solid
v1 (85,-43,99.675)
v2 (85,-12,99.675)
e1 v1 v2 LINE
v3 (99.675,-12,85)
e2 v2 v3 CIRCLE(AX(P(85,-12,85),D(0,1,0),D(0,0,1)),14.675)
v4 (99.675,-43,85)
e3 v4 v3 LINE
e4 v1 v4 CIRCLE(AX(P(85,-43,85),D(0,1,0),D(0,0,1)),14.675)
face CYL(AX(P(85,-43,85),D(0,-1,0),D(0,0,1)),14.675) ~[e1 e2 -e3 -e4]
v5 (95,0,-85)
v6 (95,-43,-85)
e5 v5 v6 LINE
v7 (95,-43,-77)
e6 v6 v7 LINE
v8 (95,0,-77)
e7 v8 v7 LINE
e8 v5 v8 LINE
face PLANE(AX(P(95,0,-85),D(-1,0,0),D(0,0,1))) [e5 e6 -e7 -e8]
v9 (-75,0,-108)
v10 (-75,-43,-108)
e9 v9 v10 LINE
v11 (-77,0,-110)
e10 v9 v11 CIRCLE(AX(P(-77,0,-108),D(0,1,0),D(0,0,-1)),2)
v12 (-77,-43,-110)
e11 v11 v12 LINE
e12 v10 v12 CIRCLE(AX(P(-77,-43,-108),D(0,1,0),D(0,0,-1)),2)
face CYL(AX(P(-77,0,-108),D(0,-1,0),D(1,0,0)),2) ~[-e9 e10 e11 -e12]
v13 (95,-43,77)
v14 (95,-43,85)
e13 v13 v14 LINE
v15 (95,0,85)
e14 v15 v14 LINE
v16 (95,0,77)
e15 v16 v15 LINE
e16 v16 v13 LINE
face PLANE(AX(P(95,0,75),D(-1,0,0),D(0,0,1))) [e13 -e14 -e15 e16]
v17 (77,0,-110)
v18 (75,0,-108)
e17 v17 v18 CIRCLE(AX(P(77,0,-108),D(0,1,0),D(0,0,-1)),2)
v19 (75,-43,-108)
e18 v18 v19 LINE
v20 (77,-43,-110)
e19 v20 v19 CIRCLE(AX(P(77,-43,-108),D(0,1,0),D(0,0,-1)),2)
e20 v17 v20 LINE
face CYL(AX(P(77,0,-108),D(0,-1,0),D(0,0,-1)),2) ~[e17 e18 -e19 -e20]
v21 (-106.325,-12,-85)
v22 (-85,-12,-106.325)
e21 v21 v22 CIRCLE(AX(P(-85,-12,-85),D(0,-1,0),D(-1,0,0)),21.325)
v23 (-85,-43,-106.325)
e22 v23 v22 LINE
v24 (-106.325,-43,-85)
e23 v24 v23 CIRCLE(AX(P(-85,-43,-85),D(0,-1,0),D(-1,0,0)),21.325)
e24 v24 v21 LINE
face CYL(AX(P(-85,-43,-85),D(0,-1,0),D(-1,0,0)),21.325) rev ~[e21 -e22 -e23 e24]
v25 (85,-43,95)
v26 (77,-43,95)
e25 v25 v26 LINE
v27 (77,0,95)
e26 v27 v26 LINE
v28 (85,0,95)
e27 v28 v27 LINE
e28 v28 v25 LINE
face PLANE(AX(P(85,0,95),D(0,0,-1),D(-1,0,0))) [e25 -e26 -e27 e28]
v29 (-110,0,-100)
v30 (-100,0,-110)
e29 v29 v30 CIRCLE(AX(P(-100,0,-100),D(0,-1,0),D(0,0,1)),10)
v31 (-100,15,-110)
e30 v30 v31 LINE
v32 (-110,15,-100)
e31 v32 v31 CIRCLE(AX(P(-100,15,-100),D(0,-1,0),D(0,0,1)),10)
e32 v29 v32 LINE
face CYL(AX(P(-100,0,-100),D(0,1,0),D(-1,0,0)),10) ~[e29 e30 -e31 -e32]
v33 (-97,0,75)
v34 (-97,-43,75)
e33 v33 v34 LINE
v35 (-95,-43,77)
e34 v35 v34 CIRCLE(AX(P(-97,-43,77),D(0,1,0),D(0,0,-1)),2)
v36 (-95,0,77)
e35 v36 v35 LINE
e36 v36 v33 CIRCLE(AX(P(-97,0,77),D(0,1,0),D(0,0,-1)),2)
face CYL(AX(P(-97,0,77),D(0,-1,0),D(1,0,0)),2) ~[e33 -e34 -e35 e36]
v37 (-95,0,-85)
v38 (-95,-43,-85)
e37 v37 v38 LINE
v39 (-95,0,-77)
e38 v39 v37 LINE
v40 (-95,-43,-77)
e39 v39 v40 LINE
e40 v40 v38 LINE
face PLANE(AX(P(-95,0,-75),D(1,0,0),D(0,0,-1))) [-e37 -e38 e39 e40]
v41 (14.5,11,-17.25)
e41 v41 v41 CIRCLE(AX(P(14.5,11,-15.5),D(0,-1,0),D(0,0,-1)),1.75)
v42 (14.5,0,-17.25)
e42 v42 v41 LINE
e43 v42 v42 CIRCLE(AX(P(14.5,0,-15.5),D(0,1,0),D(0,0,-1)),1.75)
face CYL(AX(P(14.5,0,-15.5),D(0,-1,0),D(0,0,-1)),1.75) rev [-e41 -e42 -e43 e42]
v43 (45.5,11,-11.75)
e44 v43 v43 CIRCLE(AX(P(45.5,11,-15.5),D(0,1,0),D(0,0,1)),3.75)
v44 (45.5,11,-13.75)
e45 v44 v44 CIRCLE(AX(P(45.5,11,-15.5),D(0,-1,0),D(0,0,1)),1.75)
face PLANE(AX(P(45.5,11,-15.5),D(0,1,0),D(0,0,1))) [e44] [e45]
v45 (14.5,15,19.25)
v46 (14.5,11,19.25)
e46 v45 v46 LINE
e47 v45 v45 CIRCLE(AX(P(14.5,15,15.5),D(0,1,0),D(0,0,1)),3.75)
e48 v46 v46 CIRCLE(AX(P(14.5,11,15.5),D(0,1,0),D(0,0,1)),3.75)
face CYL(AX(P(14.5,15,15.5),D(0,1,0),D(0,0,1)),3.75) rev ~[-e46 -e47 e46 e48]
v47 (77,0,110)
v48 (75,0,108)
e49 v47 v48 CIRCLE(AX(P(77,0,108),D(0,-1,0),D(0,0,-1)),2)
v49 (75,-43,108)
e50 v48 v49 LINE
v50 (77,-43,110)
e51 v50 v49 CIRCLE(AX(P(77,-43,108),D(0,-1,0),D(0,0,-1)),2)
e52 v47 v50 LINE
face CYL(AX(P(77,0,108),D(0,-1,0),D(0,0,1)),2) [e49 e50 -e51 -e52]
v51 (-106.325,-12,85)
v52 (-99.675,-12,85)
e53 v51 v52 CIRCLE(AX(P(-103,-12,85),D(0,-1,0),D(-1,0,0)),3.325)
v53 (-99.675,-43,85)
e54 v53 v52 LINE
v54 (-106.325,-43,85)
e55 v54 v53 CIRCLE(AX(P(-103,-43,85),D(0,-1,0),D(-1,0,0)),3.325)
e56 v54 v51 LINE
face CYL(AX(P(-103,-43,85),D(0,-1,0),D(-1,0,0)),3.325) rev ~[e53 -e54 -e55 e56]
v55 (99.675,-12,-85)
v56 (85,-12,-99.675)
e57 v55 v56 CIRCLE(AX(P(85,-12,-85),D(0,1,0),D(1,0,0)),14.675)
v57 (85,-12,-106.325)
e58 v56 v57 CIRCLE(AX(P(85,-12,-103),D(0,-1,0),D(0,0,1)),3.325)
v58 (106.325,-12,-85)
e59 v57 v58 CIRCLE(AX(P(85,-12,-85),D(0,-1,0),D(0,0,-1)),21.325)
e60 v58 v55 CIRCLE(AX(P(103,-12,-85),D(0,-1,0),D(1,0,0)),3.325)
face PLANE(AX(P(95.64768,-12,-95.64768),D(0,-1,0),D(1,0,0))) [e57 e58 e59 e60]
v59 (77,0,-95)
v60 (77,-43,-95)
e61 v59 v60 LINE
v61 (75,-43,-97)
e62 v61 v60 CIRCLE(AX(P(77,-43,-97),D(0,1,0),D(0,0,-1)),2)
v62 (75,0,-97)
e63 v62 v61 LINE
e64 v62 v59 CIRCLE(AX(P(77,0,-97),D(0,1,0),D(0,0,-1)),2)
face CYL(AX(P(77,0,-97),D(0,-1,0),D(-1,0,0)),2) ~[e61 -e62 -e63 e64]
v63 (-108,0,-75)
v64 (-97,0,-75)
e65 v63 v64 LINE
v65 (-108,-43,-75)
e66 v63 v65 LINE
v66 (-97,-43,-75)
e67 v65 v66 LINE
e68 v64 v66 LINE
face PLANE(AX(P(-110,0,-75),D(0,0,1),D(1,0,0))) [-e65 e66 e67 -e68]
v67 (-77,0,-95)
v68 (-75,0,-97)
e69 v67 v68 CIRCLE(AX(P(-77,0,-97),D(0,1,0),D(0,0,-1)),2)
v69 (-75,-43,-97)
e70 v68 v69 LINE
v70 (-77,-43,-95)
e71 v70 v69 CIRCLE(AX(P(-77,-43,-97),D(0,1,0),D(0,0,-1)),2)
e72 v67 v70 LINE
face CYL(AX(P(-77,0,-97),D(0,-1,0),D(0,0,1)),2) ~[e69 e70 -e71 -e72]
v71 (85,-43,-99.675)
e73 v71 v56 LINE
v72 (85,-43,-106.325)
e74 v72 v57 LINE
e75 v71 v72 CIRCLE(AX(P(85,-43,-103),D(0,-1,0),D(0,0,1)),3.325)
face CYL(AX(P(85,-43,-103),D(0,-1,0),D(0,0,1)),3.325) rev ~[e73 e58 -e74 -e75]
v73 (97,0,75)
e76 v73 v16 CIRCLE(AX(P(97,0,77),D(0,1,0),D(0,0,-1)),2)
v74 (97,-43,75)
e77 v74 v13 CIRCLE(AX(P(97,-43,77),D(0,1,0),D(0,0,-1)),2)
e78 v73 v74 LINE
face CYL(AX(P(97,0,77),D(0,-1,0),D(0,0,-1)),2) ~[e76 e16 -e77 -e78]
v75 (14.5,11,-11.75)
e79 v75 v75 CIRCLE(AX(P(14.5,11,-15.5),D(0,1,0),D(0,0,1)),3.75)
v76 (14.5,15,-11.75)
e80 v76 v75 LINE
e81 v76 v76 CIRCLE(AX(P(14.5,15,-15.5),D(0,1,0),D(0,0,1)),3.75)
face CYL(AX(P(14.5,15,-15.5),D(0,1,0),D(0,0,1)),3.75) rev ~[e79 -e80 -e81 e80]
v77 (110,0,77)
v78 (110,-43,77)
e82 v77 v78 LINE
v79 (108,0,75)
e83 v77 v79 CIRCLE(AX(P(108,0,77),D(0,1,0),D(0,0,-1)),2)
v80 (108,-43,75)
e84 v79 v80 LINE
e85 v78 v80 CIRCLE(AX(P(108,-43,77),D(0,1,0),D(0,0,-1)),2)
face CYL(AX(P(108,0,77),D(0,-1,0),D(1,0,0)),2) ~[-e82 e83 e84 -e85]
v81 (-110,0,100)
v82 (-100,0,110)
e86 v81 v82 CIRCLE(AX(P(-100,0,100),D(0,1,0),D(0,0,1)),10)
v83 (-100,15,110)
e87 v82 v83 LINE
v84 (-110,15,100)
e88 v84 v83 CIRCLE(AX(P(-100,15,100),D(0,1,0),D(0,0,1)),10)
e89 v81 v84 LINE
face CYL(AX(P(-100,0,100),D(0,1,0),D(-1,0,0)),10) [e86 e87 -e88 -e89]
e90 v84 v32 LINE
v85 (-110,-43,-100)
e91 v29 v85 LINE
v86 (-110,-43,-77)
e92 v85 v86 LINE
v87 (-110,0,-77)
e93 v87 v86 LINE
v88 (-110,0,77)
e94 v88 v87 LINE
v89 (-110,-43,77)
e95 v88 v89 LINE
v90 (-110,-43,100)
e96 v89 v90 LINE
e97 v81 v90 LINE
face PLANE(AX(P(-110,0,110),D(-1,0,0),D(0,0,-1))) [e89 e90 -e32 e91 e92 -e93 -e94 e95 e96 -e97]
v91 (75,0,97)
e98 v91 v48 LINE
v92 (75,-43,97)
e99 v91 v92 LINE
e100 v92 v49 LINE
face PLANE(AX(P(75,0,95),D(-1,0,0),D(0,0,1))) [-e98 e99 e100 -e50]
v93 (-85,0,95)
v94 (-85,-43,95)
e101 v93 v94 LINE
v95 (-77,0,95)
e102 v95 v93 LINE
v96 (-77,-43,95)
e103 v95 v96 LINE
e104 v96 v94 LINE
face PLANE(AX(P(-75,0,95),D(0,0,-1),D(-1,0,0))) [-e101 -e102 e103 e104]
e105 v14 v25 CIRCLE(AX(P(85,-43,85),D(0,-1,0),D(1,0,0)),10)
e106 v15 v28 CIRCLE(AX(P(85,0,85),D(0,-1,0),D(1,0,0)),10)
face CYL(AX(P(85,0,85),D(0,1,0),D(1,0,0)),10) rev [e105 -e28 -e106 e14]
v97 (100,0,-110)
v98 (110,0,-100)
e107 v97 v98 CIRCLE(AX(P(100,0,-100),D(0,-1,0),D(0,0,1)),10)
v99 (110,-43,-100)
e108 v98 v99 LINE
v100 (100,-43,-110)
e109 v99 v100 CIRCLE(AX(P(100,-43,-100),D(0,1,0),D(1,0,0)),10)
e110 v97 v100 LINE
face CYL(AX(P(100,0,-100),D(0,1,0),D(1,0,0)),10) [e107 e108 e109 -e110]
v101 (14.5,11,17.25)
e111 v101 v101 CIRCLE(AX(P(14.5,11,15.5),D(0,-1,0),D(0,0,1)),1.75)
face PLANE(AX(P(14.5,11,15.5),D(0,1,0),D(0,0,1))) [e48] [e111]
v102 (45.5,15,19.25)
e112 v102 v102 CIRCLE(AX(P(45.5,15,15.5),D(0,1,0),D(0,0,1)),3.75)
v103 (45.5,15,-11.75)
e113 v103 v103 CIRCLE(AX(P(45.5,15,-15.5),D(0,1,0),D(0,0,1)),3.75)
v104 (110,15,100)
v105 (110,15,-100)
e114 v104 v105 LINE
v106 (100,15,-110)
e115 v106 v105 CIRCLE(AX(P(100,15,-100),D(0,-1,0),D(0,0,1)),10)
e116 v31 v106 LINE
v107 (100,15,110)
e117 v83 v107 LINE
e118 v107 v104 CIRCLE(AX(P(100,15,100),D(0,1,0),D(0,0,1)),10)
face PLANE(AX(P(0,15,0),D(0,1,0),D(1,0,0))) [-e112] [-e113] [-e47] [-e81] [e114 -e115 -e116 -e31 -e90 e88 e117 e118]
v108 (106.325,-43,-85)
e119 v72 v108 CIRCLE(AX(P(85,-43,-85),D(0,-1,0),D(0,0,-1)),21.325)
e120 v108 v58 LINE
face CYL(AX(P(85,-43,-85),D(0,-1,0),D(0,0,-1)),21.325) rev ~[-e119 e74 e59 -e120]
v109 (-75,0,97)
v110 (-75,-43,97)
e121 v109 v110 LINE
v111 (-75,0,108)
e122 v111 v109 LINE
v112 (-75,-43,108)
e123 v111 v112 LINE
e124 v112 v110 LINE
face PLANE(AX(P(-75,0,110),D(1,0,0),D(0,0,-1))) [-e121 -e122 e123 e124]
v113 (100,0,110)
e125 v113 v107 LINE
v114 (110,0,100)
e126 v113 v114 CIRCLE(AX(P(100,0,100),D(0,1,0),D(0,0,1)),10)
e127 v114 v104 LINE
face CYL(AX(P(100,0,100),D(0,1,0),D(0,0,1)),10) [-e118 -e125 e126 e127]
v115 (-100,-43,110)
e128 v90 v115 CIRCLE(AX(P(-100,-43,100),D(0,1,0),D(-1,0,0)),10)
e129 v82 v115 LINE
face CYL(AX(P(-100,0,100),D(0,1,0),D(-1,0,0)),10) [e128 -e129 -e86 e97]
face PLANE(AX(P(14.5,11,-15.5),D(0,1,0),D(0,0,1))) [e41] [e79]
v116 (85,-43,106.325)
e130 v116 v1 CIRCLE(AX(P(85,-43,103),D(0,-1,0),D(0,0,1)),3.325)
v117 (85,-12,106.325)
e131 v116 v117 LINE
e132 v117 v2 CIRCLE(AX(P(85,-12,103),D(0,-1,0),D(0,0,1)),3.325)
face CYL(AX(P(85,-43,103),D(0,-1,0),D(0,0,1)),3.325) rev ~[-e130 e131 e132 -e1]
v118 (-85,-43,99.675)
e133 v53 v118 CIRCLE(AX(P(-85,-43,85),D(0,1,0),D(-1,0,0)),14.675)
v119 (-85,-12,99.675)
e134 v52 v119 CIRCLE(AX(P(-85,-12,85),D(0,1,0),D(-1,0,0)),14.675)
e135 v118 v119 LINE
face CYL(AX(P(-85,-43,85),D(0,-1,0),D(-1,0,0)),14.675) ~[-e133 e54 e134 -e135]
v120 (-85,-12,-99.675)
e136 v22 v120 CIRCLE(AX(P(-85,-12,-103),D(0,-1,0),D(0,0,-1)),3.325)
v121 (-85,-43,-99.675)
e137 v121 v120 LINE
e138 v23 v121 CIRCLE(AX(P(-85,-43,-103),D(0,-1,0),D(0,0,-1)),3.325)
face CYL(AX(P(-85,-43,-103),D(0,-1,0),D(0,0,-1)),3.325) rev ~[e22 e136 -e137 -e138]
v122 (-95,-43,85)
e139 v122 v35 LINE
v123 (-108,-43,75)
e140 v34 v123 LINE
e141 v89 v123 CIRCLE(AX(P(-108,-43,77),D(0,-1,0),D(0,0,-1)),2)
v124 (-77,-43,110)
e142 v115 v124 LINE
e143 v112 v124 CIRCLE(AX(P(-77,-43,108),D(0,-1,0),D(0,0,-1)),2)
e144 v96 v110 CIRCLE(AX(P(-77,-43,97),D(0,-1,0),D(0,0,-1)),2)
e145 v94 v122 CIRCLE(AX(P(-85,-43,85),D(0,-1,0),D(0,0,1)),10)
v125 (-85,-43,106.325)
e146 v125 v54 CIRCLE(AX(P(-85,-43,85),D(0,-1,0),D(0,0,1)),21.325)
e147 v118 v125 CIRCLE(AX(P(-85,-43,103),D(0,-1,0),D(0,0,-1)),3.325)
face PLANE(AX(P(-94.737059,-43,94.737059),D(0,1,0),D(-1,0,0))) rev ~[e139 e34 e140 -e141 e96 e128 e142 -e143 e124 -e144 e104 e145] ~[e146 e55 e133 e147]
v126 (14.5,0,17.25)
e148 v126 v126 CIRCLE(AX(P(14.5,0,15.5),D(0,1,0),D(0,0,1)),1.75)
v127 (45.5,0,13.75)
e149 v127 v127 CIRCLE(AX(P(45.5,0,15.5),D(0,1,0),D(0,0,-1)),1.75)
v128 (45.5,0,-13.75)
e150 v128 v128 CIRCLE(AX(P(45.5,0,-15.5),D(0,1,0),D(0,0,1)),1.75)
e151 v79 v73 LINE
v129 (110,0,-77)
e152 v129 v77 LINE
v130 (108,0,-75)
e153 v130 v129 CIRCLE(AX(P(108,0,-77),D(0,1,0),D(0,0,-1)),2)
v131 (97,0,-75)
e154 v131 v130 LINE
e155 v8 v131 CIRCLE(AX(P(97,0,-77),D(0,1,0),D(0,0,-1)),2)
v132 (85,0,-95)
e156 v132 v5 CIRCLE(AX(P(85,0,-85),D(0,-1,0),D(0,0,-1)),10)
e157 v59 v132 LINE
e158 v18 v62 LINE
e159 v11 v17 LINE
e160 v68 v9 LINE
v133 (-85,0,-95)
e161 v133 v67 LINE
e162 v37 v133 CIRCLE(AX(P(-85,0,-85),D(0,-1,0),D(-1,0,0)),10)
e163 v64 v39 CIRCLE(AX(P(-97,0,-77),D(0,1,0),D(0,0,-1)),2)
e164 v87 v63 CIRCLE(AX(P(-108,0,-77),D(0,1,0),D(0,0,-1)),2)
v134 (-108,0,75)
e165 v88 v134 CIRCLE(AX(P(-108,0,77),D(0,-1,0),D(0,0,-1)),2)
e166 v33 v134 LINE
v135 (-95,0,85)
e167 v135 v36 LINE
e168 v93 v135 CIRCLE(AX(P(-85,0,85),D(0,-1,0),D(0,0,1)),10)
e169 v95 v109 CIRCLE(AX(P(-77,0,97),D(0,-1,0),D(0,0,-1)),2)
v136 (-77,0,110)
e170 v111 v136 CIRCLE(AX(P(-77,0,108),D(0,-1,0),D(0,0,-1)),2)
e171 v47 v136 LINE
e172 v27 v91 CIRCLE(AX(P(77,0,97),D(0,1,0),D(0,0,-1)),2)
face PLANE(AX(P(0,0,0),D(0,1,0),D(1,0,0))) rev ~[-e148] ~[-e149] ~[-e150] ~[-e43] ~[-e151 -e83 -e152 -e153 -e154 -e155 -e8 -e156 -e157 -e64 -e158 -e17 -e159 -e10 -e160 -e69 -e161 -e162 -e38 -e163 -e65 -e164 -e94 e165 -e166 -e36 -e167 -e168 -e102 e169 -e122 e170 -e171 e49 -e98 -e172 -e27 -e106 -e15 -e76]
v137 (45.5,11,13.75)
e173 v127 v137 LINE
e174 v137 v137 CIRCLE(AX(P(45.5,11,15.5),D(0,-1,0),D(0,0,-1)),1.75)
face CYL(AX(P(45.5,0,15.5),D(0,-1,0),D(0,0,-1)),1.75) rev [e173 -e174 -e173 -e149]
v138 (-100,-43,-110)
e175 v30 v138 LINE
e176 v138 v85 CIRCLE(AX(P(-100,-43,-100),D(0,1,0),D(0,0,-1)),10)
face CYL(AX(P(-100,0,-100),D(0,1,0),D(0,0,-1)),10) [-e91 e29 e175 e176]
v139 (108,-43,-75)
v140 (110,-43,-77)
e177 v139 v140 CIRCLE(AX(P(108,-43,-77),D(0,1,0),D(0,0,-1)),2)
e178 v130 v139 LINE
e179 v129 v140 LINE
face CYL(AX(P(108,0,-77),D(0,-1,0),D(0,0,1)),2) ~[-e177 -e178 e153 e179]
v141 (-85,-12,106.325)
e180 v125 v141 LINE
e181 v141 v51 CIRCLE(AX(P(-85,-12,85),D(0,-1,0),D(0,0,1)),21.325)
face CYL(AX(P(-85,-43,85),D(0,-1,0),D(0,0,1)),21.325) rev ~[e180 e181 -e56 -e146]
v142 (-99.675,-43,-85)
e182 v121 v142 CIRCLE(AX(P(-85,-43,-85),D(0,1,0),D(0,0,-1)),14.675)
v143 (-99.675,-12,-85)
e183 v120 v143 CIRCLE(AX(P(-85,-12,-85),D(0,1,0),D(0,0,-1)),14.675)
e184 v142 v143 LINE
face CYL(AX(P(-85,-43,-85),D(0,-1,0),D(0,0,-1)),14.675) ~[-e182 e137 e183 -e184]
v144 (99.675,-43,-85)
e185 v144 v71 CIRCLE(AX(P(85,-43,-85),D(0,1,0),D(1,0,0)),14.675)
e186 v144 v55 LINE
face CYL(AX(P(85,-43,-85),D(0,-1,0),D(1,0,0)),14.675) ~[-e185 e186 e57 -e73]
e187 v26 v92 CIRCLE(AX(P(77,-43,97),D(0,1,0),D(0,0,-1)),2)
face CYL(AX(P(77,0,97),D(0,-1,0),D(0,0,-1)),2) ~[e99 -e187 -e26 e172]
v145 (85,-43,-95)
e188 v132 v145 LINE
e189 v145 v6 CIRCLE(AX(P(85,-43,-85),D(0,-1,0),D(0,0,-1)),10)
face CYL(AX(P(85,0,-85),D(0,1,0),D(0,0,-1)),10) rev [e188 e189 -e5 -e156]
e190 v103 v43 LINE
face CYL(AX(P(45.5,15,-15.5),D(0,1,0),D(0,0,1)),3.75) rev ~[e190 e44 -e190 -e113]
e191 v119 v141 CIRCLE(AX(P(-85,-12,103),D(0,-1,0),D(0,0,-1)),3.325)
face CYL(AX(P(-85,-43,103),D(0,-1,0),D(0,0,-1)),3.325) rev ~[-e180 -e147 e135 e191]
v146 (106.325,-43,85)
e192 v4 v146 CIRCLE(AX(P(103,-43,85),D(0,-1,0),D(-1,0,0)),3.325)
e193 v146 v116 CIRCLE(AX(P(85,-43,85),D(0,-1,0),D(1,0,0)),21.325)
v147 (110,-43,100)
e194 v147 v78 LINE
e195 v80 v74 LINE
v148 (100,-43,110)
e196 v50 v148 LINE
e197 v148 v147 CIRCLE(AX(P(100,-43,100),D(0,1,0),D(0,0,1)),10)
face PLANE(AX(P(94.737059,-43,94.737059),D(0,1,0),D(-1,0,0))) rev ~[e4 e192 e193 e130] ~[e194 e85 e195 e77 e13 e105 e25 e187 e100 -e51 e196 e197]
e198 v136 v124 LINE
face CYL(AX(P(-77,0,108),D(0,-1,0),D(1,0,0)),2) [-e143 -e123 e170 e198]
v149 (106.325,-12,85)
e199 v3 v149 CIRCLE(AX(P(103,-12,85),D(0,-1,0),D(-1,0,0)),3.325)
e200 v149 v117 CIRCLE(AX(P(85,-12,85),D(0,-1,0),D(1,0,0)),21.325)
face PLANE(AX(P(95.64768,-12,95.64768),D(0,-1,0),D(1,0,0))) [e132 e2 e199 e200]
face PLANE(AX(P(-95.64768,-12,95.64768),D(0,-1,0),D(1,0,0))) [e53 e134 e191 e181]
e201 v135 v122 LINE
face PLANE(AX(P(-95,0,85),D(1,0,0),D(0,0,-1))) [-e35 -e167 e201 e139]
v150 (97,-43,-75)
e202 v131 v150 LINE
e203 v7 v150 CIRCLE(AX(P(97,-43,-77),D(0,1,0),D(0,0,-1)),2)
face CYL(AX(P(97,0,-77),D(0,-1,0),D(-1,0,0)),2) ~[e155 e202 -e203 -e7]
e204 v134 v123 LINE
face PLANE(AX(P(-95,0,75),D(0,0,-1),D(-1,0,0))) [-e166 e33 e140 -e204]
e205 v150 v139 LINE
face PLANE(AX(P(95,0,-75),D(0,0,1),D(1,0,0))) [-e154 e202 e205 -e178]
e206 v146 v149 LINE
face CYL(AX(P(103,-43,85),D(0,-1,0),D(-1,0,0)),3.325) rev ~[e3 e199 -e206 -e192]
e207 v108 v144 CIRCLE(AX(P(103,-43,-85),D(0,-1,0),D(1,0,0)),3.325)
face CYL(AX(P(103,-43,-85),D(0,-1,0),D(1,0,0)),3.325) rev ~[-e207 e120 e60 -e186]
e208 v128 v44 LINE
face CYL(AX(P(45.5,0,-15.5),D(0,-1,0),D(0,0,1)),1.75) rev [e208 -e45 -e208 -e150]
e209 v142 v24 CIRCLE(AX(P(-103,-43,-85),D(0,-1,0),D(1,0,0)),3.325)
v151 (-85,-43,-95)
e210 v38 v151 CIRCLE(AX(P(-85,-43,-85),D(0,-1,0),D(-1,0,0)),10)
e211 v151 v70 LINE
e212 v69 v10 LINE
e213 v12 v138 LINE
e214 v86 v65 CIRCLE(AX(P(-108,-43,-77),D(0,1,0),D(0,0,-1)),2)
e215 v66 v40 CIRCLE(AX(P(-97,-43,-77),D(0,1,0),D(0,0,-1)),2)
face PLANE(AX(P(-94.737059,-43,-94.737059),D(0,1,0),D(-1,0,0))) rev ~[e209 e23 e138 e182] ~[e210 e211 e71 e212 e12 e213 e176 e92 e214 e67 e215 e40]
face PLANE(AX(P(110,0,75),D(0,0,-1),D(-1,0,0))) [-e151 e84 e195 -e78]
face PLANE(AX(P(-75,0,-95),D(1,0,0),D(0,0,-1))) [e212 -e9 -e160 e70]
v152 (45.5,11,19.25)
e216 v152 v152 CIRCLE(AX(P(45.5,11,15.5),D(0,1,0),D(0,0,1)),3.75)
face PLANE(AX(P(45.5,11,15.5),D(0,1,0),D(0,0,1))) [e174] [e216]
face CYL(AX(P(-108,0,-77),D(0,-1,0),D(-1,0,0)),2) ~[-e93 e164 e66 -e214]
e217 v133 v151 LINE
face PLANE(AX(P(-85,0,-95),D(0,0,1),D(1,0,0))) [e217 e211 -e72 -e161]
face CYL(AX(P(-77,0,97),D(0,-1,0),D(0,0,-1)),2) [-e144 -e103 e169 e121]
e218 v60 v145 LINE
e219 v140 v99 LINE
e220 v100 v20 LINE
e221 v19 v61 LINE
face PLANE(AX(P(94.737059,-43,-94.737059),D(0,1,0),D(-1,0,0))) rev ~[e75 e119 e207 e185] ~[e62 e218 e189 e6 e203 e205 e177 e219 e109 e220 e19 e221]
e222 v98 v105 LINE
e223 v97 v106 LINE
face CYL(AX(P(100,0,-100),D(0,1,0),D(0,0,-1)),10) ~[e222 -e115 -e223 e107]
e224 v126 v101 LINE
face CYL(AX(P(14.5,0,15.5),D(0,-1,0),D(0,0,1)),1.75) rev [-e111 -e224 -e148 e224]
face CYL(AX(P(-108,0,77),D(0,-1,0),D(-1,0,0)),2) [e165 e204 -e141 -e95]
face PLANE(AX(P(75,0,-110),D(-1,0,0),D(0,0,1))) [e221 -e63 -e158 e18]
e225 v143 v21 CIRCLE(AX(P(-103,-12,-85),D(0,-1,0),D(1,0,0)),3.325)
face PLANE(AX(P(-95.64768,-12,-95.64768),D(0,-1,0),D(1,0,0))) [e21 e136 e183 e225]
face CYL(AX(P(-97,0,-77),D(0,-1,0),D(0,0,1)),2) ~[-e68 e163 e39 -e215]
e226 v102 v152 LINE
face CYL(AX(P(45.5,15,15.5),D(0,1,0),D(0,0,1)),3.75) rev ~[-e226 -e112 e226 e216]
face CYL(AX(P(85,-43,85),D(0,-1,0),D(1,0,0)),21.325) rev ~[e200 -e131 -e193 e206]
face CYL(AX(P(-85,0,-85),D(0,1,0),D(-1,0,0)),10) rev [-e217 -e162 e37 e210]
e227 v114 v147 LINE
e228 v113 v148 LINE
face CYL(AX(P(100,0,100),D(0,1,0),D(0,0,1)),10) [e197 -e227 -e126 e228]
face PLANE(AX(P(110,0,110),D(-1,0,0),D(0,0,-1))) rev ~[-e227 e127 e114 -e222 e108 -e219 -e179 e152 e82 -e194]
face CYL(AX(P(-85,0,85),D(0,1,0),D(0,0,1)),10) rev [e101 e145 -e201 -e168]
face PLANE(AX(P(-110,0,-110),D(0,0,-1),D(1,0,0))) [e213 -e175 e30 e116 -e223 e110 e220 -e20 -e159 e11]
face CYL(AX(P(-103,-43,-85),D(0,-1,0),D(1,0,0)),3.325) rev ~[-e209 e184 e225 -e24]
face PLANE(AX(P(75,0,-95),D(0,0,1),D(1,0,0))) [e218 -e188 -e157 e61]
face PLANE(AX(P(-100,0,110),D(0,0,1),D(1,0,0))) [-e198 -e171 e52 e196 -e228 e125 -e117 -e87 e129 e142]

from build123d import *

# Parameters (mm, degrees)
SKETCH1_W           = 220
SKETCH1_H           = 220
SKETCH1_R           = 1.75
BOSS_EXTRUDE1_DEPTH = 15
FILLET1_R           = 10
BOSS_EXTRUDE2_DEPTH = 43
CUT_EXTRUDE1_DEPTH  = 31
FILLET2_R           = 2
SKETCH5_R           = 3.75
CUT_EXTRUDE2_DEPTH  = 4


with BuildPart() as part:
    # Sketch1 → Boss-Extrude1 (new body)
    with BuildSketch(Plane(origin=(0, 0, 0), x_dir=(1, 0, 0), z_dir=(0, 1, 0))):
        Rectangle(SKETCH1_W, SKETCH1_H)
        with Locations(Location((45.5, 15.5, 0), (0, 0, 270))):
            Circle(SKETCH1_R, mode=Mode.SUBTRACT)
        with Locations(Location((45.5, -15.5, 0), (0, 0, 90))):
            Circle(SKETCH1_R, mode=Mode.SUBTRACT)
        with Locations(Location((14.5, -15.5, 0), (0, 0, 270))):
            Circle(SKETCH1_R, mode=Mode.SUBTRACT)
        with Locations(Location((14.5, 15.5, 0), (0, 0, 90))):
            Circle(SKETCH1_R, mode=Mode.SUBTRACT)
    extrude(amount=BOSS_EXTRUDE1_DEPTH)

    # Fillet1
    fillet1_edges = [part.edges().sort_by_distance(p)[0] for p in [
        (110, 7.5, 110),
        (-110, 7.5, 110),
        (-110, 7.5, -110),
        (110, 7.5, -110),
    ]]
    fillet(fillet1_edges, radius=FILLET1_R)

    # Sketch2 → Boss-Extrude2 (add)
    with BuildSketch(Plane.XZ):
        with BuildLine():
            Line((-75, 95), (-85, 95))
            ThreePointArc((-85, 95), (-92.071067812, 92.071067812), (-95, 85))
            Line((-95, 85), (-95, 75))
            Line((-95, 75), (-110, 75))
            Line((-110, 75), (-110, 100))
            ThreePointArc((-110, 100), (-107.071067812, 107.071067812), (-100, 110))
            Line((-100, 110), (-75, 110))
            Line((-75, 110), (-75, 95))
        make_face()
        with BuildLine():
            Line((-75, -95), (-75, -110))
            Line((-75, -110), (-100, -110))
            ThreePointArc((-100, -110), (-107.071067812, -107.071067812), (-110, -100))
            Line((-110, -100), (-110, -75))
            Line((-110, -75), (-95, -75))
            Line((-95, -75), (-95, -85))
            ThreePointArc((-95, -85), (-92.071067812, -92.071067812), (-85, -95))
            Line((-85, -95), (-75, -95))
        make_face()
        with BuildLine():
            Line((75, -95), (85, -95))
            ThreePointArc((85, -95), (92.071067812, -92.071067812), (95, -85))
            Line((95, -85), (95, -75))
            Line((95, -75), (110, -75))
            Line((110, -75), (110, -100))
            ThreePointArc((110, -100), (107.071067812, -107.071067812), (100, -110))
            Line((100, -110), (75, -110))
            Line((75, -110), (75, -95))
        make_face()
        with BuildLine():
            Line((75, 95), (75, 110))
            Line((75, 110), (100, 110))
            ThreePointArc((100, 110), (107.071067812, 107.071067812), (110, 100))
            Line((110, 100), (110, 75))
            Line((110, 75), (95, 75))
            Line((95, 75), (95, 85))
            ThreePointArc((95, 85), (92.071067812, 92.071067812), (85, 95))
            Line((85, 95), (75, 95))
        make_face()
    extrude(amount=BOSS_EXTRUDE2_DEPTH)

    # Sketch3 → Cut-Extrude1 (cut)
    with BuildSketch(Plane.XZ.offset(43)):
        with BuildLine():
            ThreePointArc((-106.325, -85), (-100.079052109, -100.079052109), (-85, -106.325))
            ThreePointArc((-85, -106.325), (-81.675, -103), (-85, -99.675))
            ThreePointArc((-85, -99.675), (-95.376792014, -95.376792014), (-99.675, -85))
            ThreePointArc((-99.675, -85), (-103, -81.675), (-106.325, -85))
        make_face()
        with BuildLine():
            ThreePointArc((-85, 106.325), (-100.079052109, 100.079052109), (-106.325, 85))
            ThreePointArc((-106.325, 85), (-103, 81.675), (-99.675, 85))
            ThreePointArc((-99.675, 85), (-95.376792014, 95.376792014), (-85, 99.675))
            ThreePointArc((-85, 99.675), (-81.675, 103), (-85, 106.325))
        make_face()
        with BuildLine():
            ThreePointArc((106.325, 85), (100.079052109, 100.079052109), (85, 106.325))
            ThreePointArc((85, 106.325), (81.675, 103), (85, 99.675))
            ThreePointArc((85, 99.675), (95.376792014, 95.376792014), (99.675, 85))
            ThreePointArc((99.675, 85), (103, 81.675), (106.325, 85))
        make_face()
        with BuildLine():
            ThreePointArc((85, -106.325), (100.079052109, -100.079052109), (106.325, -85))
            ThreePointArc((106.325, -85), (103, -81.675), (99.675, -85))
            ThreePointArc((99.675, -85), (95.376792014, -95.376792014), (85, -99.675))
            ThreePointArc((85, -99.675), (81.675, -103), (85, -106.325))
        make_face()
    extrude(amount=-CUT_EXTRUDE1_DEPTH, mode=Mode.SUBTRACT)

    # Fillet2
    fillet2_edges = [part.edges().sort_by_distance(p)[0] for p in [
        (-75, -21.5, -95),
        (-95, -21.5, -75),
        (-110, -21.5, -75),
        (-75, -21.5, -110),
        (75, -21.5, 95),
        (95, -21.5, 75),
        (110, -21.5, 75),
        (75, -21.5, 110),
        (-110, -21.5, 75),
        (-95, -21.5, 75),
        (-75, -21.5, 95),
        (-75, -21.5, 110),
        (110, -21.5, -75),
        (95, -21.5, -75),
        (75, -21.5, -95),
        (75, -21.5, -110),
    ]]
    fillet(fillet2_edges, radius=FILLET2_R)

    # Sketch5 → Cut-Extrude2 (cut)
    with BuildSketch(Plane(origin=(0, 15, 0), x_dir=(1, 0, 0), z_dir=(0, 1, 0))):
        with Locations(Location((14.5, 15.5, 0), (0, 0, 270))):
            Circle(SKETCH5_R)
        with Locations(Location((45.5, 15.5, 0), (0, 0, 270))):
            Circle(SKETCH5_R)
        with Locations(Location((14.5, -15.5, 0), (0, 0, 270))):
            Circle(SKETCH5_R)
        with Locations(Location((45.5, -15.5, 0), (0, 0, 270))):
            Circle(SKETCH5_R)
    extrude(amount=-CUT_EXTRUDE2_DEPTH, mode=Mode.SUBTRACT)


solid = part.part
